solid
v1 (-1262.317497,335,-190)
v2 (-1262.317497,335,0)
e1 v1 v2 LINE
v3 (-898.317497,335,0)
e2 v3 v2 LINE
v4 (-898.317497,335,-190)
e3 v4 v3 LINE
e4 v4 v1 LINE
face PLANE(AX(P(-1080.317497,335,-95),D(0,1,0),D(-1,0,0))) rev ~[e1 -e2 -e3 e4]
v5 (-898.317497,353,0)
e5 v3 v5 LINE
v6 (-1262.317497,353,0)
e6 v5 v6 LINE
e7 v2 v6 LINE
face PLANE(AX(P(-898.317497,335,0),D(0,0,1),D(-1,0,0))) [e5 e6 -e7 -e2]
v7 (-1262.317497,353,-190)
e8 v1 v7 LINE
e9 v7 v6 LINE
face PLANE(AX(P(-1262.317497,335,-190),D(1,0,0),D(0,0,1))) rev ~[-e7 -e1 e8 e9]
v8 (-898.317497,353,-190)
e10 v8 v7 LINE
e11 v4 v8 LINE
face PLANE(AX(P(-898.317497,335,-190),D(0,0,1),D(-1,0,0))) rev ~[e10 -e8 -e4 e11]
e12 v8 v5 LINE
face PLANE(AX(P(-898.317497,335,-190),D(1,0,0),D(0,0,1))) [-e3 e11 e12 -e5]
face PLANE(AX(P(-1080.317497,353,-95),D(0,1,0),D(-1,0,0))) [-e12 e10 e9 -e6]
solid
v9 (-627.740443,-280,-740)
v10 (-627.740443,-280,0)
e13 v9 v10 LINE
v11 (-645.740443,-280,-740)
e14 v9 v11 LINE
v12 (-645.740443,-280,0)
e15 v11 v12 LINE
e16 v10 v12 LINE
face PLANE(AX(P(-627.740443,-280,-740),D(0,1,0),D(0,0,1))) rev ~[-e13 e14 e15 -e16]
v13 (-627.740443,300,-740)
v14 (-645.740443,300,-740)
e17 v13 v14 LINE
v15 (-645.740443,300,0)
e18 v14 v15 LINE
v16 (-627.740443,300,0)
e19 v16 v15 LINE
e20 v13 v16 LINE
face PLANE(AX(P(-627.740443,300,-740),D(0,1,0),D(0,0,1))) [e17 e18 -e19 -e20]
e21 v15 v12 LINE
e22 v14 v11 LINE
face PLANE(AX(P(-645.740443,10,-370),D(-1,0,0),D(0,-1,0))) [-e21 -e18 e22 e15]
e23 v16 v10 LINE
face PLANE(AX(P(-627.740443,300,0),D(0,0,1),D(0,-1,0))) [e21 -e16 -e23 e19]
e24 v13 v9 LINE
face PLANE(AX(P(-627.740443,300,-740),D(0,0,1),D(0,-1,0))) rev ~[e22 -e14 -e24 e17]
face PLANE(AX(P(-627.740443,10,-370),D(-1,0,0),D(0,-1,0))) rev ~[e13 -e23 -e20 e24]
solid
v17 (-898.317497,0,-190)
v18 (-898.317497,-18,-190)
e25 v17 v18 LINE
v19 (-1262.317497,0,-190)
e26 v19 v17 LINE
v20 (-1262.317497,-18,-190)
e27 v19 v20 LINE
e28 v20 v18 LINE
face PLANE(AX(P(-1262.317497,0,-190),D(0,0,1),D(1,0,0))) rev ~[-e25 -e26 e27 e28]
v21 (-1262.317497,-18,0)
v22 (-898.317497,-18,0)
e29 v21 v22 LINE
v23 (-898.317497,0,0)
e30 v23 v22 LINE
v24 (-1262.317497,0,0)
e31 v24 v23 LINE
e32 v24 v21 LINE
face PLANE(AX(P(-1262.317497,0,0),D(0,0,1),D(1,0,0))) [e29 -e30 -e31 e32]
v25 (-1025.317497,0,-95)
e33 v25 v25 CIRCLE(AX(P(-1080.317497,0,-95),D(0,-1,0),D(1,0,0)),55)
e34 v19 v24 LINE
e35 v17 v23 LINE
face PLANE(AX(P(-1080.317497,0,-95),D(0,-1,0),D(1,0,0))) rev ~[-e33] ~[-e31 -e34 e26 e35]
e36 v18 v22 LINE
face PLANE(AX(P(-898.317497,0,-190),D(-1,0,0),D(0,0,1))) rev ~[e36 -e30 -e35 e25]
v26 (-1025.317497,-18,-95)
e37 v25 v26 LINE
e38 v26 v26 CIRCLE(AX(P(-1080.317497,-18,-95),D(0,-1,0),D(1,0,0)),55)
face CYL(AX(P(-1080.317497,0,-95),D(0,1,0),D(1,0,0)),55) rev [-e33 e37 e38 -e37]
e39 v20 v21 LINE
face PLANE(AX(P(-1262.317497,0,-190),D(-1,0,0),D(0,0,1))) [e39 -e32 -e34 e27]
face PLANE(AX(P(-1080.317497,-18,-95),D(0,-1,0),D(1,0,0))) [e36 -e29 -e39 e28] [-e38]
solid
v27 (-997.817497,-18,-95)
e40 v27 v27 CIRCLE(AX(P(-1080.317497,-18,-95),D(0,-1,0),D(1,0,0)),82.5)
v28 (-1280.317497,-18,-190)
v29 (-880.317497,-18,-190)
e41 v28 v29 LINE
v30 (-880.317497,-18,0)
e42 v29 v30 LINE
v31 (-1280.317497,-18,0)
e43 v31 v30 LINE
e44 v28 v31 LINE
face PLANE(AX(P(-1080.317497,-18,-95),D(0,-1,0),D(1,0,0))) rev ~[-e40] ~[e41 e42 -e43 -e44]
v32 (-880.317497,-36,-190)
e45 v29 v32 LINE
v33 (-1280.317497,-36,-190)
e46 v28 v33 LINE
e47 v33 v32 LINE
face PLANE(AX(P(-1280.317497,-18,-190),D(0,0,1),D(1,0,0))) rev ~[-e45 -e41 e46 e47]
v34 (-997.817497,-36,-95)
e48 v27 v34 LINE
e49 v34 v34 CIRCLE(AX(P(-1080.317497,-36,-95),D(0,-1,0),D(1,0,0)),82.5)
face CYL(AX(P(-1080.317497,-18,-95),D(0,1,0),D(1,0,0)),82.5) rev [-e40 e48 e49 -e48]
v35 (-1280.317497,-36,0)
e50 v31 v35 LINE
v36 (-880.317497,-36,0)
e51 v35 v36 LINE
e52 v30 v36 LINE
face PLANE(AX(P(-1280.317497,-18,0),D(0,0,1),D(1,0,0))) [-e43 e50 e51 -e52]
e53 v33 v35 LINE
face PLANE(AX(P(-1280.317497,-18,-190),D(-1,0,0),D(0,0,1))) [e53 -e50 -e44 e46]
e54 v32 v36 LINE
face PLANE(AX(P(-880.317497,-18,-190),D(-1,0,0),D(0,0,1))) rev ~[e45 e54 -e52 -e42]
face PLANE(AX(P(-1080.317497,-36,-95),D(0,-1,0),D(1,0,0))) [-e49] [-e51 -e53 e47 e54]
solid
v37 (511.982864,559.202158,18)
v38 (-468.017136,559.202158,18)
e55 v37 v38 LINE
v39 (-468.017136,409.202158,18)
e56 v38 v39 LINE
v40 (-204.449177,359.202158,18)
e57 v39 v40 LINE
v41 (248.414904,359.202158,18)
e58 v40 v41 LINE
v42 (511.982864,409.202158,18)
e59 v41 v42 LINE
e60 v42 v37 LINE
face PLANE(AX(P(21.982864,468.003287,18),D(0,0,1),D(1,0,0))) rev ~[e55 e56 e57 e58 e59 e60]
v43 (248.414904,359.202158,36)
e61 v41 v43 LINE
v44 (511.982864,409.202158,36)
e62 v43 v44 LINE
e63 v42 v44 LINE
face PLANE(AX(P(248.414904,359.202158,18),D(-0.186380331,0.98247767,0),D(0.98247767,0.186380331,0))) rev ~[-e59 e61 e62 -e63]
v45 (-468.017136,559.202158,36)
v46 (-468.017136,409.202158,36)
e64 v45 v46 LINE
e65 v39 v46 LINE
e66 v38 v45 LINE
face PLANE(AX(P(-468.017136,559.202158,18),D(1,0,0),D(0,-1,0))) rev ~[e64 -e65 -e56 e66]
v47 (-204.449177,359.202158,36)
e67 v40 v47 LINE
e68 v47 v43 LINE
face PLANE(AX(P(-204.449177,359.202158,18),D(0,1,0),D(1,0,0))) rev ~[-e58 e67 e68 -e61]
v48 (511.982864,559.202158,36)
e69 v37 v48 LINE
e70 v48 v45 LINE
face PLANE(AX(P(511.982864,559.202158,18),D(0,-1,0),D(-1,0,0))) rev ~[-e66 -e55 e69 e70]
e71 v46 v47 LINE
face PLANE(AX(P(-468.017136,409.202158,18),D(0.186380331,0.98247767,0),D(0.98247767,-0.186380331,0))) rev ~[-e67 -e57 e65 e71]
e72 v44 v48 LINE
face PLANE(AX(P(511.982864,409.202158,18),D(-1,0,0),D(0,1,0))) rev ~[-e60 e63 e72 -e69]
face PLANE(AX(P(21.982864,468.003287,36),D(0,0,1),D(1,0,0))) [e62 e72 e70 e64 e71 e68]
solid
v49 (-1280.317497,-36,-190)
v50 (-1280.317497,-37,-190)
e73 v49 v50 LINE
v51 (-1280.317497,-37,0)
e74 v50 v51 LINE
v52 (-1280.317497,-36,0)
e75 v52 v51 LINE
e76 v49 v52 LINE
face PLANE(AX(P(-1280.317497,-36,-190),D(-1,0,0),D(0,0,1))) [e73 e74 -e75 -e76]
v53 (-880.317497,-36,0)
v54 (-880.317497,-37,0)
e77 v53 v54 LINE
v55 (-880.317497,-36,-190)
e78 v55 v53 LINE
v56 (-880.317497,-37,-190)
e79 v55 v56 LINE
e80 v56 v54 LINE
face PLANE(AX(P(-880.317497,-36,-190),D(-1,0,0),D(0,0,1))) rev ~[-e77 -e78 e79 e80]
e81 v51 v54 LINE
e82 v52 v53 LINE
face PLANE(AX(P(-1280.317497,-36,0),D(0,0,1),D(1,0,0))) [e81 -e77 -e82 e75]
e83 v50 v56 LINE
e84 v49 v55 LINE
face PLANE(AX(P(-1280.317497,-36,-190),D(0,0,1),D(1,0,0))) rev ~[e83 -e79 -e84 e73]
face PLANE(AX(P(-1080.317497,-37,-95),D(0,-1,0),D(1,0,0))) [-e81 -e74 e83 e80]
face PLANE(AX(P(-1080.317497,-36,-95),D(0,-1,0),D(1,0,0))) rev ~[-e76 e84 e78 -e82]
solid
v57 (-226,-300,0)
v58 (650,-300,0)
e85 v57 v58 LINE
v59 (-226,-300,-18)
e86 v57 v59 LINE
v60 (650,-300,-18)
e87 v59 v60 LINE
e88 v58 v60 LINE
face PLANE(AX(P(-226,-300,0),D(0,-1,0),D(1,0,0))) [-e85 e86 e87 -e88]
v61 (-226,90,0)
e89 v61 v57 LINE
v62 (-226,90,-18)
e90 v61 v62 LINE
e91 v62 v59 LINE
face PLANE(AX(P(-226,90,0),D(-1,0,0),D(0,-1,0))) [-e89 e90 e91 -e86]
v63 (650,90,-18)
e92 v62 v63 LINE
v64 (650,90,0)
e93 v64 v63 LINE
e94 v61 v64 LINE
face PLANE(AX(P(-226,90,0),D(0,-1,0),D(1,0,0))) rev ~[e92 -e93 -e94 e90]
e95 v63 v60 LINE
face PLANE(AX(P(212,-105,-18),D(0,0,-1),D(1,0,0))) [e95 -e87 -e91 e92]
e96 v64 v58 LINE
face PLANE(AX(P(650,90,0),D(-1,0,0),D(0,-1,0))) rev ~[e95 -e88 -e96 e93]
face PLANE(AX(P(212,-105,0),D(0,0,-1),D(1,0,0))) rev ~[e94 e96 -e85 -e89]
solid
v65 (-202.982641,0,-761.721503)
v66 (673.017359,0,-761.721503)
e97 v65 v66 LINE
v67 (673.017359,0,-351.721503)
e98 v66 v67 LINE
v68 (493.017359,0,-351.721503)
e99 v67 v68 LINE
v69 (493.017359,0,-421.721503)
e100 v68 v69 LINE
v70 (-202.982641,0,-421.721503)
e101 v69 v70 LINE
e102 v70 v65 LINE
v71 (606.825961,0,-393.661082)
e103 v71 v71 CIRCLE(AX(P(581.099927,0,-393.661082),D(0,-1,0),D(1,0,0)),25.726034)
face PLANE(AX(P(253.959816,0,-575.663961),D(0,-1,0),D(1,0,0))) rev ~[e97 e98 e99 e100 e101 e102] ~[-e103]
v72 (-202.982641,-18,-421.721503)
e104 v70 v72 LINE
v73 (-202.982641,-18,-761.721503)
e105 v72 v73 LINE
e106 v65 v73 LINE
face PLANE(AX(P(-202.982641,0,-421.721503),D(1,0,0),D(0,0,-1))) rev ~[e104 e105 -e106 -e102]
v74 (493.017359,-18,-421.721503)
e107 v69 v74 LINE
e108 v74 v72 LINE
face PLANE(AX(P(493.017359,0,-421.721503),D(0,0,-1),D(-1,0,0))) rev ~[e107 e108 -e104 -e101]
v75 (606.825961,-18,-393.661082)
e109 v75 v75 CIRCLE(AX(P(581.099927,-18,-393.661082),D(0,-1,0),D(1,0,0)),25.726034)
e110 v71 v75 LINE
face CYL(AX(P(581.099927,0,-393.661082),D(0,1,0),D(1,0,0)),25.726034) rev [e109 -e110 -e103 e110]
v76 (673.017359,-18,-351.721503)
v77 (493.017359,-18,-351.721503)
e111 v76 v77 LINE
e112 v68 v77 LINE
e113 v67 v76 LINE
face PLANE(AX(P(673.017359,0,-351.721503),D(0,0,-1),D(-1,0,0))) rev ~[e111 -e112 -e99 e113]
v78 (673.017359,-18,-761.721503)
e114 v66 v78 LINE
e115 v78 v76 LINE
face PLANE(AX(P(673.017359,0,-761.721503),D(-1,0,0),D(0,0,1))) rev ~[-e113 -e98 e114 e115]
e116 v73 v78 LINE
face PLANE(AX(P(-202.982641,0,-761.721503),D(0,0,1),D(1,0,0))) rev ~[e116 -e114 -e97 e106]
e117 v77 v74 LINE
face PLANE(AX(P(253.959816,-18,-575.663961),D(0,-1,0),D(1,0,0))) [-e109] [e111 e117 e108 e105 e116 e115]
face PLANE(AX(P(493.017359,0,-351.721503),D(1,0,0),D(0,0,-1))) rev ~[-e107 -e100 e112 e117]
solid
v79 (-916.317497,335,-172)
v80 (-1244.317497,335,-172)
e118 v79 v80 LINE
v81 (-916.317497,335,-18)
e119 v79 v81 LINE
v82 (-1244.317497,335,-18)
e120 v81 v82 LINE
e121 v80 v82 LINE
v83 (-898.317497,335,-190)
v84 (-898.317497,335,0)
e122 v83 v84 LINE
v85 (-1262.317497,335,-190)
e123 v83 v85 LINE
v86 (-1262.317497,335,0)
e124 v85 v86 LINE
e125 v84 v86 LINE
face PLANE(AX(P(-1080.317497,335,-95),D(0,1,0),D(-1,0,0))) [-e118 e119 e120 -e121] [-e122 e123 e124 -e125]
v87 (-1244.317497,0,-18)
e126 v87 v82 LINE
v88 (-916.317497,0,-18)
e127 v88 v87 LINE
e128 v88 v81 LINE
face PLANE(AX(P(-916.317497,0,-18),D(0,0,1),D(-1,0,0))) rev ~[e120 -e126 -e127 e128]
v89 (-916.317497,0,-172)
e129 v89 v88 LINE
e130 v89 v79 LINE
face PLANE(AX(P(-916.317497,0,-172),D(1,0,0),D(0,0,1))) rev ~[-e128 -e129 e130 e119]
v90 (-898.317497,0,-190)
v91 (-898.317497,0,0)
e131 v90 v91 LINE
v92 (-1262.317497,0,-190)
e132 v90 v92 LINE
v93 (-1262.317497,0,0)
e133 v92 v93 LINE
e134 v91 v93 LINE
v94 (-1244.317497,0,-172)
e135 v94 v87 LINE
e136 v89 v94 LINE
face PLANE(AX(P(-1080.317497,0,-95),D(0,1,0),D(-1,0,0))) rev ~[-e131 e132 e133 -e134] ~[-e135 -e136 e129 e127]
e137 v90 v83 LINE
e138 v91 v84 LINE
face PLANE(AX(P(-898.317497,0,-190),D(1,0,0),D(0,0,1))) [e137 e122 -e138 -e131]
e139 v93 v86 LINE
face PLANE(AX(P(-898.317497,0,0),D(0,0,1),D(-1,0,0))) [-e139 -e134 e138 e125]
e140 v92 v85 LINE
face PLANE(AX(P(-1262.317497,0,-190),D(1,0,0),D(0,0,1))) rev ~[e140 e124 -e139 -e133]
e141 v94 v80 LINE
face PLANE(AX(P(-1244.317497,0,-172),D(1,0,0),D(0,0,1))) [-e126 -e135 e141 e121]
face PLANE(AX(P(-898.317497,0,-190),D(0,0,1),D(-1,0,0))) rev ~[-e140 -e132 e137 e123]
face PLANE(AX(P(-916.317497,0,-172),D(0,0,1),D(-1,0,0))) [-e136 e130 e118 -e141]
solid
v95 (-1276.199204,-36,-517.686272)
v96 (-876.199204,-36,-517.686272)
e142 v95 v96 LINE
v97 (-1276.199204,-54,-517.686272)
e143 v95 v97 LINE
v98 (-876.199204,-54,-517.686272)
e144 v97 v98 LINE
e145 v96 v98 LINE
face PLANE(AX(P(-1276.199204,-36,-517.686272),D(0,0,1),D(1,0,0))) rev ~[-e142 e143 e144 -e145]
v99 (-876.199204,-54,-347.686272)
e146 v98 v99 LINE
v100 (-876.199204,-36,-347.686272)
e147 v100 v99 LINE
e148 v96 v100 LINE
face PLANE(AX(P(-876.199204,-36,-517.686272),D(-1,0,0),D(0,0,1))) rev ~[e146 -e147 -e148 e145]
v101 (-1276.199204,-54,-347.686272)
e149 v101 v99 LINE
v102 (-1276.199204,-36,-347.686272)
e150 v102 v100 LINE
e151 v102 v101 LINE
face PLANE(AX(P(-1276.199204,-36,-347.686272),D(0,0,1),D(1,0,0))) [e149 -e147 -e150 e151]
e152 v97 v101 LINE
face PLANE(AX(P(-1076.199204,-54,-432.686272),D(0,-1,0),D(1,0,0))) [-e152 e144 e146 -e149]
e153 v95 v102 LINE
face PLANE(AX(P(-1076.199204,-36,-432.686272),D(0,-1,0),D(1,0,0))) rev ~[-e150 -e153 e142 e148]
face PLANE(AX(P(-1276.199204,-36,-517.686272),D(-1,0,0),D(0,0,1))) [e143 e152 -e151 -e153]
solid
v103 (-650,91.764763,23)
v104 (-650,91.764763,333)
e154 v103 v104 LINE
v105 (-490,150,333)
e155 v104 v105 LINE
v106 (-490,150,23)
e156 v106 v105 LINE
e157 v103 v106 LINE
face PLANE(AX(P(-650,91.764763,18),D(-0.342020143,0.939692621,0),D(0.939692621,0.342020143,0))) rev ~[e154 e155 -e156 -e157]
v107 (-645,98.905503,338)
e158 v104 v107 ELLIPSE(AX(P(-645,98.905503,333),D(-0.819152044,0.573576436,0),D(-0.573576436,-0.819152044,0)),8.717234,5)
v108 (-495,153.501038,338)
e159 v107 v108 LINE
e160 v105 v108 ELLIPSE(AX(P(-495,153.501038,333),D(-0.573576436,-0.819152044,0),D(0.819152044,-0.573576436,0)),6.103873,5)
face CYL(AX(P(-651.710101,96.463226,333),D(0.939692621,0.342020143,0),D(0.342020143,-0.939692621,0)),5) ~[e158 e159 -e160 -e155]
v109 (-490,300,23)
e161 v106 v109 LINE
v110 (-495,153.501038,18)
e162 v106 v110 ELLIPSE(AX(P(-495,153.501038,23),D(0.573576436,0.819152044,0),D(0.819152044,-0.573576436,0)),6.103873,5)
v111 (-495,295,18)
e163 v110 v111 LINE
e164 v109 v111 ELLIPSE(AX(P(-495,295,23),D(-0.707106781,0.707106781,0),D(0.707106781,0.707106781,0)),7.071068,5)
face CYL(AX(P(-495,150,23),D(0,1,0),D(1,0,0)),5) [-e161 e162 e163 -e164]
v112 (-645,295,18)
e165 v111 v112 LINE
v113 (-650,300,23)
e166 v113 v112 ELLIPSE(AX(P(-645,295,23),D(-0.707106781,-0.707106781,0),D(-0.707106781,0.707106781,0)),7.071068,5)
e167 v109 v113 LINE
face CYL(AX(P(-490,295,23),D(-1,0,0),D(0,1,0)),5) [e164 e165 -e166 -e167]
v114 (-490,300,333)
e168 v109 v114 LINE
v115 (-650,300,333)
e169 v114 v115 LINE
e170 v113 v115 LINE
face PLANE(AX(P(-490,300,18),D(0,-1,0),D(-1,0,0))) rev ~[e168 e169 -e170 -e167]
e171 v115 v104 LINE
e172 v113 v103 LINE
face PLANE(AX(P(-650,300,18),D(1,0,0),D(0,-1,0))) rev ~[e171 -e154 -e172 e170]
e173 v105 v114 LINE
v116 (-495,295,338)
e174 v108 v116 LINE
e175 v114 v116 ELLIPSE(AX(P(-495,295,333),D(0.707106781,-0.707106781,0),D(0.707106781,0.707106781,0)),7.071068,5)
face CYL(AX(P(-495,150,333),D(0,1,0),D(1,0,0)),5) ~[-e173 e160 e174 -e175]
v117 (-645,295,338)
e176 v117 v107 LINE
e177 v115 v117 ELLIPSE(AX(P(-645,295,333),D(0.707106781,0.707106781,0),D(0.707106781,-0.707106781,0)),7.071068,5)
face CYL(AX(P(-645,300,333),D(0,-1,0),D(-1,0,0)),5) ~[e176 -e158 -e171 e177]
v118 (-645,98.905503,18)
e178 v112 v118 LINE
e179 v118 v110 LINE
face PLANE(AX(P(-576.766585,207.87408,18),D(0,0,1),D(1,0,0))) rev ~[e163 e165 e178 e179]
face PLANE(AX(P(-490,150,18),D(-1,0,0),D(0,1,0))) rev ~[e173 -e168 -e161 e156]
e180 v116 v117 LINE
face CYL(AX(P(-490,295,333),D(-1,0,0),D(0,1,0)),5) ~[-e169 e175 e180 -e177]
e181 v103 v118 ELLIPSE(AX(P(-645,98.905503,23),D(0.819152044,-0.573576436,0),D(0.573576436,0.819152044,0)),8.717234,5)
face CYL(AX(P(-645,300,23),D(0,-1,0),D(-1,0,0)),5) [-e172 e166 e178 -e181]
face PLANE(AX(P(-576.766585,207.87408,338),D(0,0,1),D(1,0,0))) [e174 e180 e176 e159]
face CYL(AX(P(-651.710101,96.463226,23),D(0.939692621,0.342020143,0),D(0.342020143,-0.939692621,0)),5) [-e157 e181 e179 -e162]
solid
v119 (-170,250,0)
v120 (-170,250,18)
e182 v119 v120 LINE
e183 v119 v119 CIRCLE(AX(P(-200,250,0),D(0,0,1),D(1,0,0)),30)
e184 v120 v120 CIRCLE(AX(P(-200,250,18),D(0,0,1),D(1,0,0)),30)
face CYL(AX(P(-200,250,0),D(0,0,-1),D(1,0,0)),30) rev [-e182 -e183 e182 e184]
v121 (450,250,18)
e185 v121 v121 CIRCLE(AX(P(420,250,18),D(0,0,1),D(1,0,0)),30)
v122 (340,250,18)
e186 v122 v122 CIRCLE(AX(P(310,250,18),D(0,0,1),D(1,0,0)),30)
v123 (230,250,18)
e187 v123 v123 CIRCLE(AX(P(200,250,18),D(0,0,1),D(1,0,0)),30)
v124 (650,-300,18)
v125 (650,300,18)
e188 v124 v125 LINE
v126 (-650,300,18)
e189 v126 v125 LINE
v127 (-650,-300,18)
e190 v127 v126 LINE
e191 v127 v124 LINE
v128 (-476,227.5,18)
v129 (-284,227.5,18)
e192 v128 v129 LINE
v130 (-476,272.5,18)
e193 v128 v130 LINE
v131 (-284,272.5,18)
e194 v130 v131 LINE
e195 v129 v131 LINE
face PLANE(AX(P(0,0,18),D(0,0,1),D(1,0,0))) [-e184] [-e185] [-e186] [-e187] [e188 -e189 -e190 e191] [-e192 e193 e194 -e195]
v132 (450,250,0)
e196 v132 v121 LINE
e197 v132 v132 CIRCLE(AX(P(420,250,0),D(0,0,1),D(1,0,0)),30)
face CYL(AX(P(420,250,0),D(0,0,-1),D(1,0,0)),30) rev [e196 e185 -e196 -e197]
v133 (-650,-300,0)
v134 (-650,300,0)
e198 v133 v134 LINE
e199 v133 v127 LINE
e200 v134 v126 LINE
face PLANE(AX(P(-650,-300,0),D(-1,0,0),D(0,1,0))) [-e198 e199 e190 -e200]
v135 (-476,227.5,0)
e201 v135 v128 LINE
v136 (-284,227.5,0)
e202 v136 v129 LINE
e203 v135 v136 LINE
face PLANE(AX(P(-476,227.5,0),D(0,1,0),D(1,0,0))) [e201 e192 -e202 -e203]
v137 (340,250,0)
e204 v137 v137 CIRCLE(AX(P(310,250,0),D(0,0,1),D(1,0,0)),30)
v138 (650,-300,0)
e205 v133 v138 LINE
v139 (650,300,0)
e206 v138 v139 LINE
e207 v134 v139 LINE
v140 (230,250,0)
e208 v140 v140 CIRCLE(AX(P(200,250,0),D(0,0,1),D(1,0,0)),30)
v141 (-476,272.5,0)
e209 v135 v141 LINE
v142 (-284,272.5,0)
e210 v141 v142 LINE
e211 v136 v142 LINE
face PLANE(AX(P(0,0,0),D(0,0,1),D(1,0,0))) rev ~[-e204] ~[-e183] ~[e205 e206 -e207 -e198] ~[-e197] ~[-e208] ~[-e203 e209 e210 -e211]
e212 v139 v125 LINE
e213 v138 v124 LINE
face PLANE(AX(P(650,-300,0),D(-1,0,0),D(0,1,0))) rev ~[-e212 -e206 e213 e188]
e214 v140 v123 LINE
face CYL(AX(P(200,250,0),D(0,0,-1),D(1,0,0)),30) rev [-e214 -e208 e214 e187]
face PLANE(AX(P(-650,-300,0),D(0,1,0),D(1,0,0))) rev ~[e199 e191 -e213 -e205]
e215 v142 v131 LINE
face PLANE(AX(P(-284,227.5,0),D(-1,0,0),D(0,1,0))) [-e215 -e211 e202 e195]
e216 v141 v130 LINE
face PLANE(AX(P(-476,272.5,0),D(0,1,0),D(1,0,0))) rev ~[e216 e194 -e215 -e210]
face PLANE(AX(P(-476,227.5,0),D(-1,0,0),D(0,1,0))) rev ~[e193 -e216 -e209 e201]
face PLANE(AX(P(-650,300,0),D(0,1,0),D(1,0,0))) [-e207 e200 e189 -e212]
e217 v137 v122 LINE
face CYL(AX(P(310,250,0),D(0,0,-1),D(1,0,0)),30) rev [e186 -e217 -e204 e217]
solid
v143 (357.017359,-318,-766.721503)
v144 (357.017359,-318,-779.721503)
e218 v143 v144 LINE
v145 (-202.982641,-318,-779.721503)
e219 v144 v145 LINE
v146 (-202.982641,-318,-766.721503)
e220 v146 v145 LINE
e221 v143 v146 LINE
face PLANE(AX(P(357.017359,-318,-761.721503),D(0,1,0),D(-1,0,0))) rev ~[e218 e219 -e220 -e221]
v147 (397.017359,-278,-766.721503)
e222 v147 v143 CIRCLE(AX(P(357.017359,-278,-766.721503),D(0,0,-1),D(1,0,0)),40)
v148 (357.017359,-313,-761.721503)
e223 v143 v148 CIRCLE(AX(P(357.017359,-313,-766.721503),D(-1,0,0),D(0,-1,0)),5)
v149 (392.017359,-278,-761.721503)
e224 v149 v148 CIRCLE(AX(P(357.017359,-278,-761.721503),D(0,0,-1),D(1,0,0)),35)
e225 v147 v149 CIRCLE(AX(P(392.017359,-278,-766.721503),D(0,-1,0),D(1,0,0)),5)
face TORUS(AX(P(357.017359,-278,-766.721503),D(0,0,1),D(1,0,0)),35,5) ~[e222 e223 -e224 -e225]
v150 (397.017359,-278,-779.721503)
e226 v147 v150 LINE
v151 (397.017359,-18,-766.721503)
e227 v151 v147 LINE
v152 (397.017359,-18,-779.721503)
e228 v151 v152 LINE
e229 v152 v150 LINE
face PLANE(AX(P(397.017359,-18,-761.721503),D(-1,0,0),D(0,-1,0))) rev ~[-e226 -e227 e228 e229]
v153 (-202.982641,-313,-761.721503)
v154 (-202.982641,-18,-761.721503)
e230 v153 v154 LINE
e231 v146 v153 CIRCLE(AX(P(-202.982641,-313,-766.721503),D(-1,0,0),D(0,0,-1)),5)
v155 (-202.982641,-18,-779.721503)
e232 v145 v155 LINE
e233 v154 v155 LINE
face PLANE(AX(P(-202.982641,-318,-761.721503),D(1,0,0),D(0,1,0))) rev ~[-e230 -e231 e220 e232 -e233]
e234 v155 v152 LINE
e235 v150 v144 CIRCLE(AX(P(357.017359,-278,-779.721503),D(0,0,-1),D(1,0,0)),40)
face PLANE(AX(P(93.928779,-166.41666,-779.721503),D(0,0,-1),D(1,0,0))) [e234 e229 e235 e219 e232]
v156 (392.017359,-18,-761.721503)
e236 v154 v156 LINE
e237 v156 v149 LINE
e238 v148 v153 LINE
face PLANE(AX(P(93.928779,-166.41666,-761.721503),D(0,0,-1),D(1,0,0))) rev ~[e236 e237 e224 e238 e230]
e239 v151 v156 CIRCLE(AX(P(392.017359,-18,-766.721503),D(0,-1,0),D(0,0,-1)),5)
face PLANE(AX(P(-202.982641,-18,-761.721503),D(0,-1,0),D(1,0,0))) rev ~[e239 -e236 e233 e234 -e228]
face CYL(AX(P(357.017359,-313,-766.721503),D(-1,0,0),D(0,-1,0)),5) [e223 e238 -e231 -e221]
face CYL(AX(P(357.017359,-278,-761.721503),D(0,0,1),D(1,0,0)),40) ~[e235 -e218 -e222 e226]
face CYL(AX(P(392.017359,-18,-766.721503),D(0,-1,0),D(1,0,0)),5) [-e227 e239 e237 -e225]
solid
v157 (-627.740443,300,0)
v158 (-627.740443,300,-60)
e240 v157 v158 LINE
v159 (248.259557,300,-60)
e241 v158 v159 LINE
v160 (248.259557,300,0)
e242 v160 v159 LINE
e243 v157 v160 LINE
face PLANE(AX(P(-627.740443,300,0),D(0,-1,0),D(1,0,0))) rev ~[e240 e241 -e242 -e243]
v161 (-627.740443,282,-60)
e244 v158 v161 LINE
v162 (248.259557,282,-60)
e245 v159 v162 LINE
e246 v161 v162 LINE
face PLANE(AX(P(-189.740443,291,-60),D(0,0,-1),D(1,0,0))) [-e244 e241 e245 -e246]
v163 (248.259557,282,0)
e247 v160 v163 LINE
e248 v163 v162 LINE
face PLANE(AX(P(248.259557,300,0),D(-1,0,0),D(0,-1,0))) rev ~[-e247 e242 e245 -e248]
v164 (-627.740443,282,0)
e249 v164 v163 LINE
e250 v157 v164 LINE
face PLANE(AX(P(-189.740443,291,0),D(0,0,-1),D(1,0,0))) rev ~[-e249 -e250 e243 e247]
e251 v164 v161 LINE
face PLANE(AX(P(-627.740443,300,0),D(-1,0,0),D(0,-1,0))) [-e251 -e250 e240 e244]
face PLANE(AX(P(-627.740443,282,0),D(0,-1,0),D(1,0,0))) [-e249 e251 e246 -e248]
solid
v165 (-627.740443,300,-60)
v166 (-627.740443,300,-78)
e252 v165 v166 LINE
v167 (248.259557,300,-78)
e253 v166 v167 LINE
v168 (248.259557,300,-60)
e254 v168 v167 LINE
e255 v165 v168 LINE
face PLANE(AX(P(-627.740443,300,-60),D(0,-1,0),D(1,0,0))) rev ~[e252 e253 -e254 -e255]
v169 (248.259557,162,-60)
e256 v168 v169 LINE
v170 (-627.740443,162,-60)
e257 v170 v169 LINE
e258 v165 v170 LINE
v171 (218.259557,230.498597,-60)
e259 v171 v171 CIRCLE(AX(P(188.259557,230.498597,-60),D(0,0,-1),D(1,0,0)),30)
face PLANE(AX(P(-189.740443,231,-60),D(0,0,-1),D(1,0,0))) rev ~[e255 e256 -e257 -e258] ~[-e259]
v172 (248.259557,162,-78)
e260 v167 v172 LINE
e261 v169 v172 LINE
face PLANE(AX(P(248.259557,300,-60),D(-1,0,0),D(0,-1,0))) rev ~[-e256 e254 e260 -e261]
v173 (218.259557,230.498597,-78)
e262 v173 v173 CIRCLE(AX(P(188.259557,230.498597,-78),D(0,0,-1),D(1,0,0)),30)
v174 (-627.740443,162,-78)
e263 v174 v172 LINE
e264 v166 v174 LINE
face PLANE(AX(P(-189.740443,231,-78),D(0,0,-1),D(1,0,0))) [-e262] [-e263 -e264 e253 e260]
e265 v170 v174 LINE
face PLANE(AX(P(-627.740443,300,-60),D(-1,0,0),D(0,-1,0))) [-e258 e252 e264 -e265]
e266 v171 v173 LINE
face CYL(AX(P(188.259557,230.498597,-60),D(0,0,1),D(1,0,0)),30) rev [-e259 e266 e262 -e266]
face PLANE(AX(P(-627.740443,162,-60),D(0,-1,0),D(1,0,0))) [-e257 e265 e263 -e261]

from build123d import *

# Parameters (mm, degrees)
F0_W      = 1300
F0_H      = 600
F0_W_2    = 192
F0_H_2    = 45
F0_R      = 30
F1_DEPTH  = 18
F2_W      = 876
F2_H      = 18
F3_DEPTH  = 60
F4_W      = 876
F4_H      = 138
F4_R      = 30
F5_DEPTH  = 18
F6_W      = 580
F6_H      = 740
F7_DEPTH  = 18
F9_DEPTH  = 320
F10_W     = 364
F10_H     = 190
F10_R     = 55
F11_DEPTH = 18
F12_W     = 364
F12_H     = 190
F12_W_2   = 328
F12_H_2   = 154
F13_DEPTH = 335
F14_W     = 400
F14_H     = 190
F14_R     = 82.5
F15_DEPTH = 18
F16_W     = 364
F16_H     = 190
F17_DEPTH = 18
F18_W     = 876
F18_H     = 390
F19_DEPTH = 18
F20_R     = 25.7260339454
F21_DEPTH = 18
F23_DEPTH = 18
F24_R     = 5
F25_W     = 400
F25_H     = 170
F26_DEPTH = 18
F27_W     = 400
F27_H     = 190
F28_DEPTH = 1
F30_DEPTH = 18
F31_R     = 5


with BuildPart() as f1:
    # F0 (on Top) → F1 (new body)
    with BuildSketch(Plane.XY):
        Rectangle(F0_W, F0_H)
        with Locations((-380, 250)):
            Rectangle(F0_W_2, F0_H_2, mode=Mode.SUBTRACT)
        with Locations((-200, 250)):
            Circle(F0_R, mode=Mode.SUBTRACT)
        with Locations((200, 250)):
            Circle(F0_R, mode=Mode.SUBTRACT)
        with Locations((310, 250)):
            Circle(F0_R, mode=Mode.SUBTRACT)
        with Locations((420, 250)):
            Circle(F0_R, mode=Mode.SUBTRACT)
    extrude(amount=F1_DEPTH)


with BuildPart() as f3:
    # F2 (on face) → F3 (new body)
    with BuildSketch(Plane(origin=(0, 0, 0), x_dir=(1, 0, 0), z_dir=(0, 0, -1))):
        with Locations((-189.7404427528, -291)):
            Rectangle(F2_W, F2_H)
    extrude(amount=F3_DEPTH)


with BuildPart() as f5:
    # F4 (on face) → F5 (new body)
    with BuildSketch(Plane(origin=(0, 0, -60), x_dir=(1, 0, 0), z_dir=(0, 0, -1))):
        with Locations((-189.7404427528, -231)):
            Rectangle(F4_W, F4_H)
        with Locations((188.2595572472, -230.4985970259)):
            Circle(F4_R, mode=Mode.SUBTRACT)
    extrude(amount=F5_DEPTH)


with BuildPart() as f7:
    # F6 (on face) → F7 (new body)
    with BuildSketch(Plane(origin=(-627.7404427528, 0, 0), x_dir=(0, -1, 0), z_dir=(-1, 0, 0))):
        with Locations((-10, -370)):
            Rectangle(F6_W, F6_H)
    extrude(amount=F7_DEPTH)


with BuildPart() as f9:
    # F8 (on face) → F9 (new body)
    with BuildSketch(Plane.XY.offset(18)):
        Polygon((-490, 300), (-650, 300), (-650, 91.7647625174), (-490, 150), align=None)
    extrude(amount=F9_DEPTH)

    # F31
    f31_edges = [f9.edges().sort_by_distance(p)[0] for p in [
        (-650, 195.882381, 338),
        (-570, 120.882381, 338),
        (-490, 225, 338),
        (-570, 300, 338),
        (-570, 120.882381, 18),
        (-490, 225, 18),
        (-570, 300, 18),
        (-650, 195.882381, 18),
    ]]
    fillet(f31_edges, radius=F31_R)


with BuildPart() as f11:
    # F10 (on Front) → F11 (new body)
    with BuildSketch(Plane.XZ):
        with Locations((-1080.3174972534, -95)):
            Rectangle(F10_W, F10_H)
        with Locations((-1080.3174972534, -95)):
            Circle(F10_R, mode=Mode.SUBTRACT)
    extrude(amount=F11_DEPTH)


with BuildPart() as f13:
    # F12 (on face) → F13 (new body)
    with BuildSketch(Plane(origin=(0, 0, 0), x_dir=(-1, 0, 0), z_dir=(0, 1, 0))):
        with Locations((1080.3174972534, -95)):
            Rectangle(F12_W, F12_H)
        with Locations((1080.3174972534, -95)):
            Rectangle(F12_W_2, F12_H_2, mode=Mode.SUBTRACT)
    extrude(amount=F13_DEPTH)


with BuildPart() as f15:
    # F14 (on face) → F15 (new body)
    with BuildSketch(Plane.XZ.offset(18)):
        with Locations((-1080.3174972534, -95)):
            Rectangle(F14_W, F14_H)
        with Locations((-1080.3174972534, -95)):
            Circle(F14_R, mode=Mode.SUBTRACT)
    extrude(amount=F15_DEPTH)


with BuildPart() as f17:
    # F16 (on face) → F17 (new body)
    with BuildSketch(Plane(origin=(0, 335, 0), x_dir=(-1, 0, 0), z_dir=(0, 1, 0))):
        with Locations((1080.3174972534, -95)):
            Rectangle(F16_W, F16_H)
    extrude(amount=F17_DEPTH)


with BuildPart() as f19:
    # F18 (on face) → F19 (new body)
    with BuildSketch(Plane(origin=(0, 0, 0), x_dir=(1, 0, 0), z_dir=(0, 0, -1))):
        with Locations((212, 105)):
            Rectangle(F18_W, F18_H)
    extrude(amount=F19_DEPTH)


with BuildPart() as f21:
    # F20 (on Front) → F21 (new body)
    with BuildSketch(Plane.XZ):
        Polygon((-202.9826407433, -761.7215034605), (673.0173592567, -761.7215034605), (673.0173592567, -351.7215034605), (493.0173592567, -351.7215034605), (493.0173592567, -421.7215034605), (-202.9826407433, -421.7215034605), align=None)
        with Locations((581.0999274254, -393.6610817909)):
            Circle(F20_R, mode=Mode.SUBTRACT)
    extrude(amount=F21_DEPTH)


with BuildPart() as f23:
    # F22 (on face) → F23 (new body)
    with BuildSketch(Plane(origin=(0, 0, -761.7215034605), x_dir=(1, 0, 0), z_dir=(0, 0, -1))):
        with BuildLine():
            Line((-202.9826407433, 318), (-202.9826407433, 18))
            Line((-202.9826407433, 18), (397.0173592567, 18))
            Line((397.0173592567, 18), (397.0173592567, 278))
            ThreePointArc((397.0173592567, 278), (385.3016305042, 306.2842712475), (357.0173592567, 318))
            Line((357.0173592567, 318), (-202.9826407433, 318))
        make_face()
    extrude(amount=F23_DEPTH)

    # F24
    f24_edges = [f23.edges().sort_by_distance(p)[0] for p in [
        (77.017359, -318, -761.721503),
        (385.301631, -306.284271, -761.721503),
        (397.017359, -148, -761.721503),
    ]]
    fillet(f24_edges, radius=F24_R)


with BuildPart() as f26:
    # F25 (on face) → F26 (new body)
    with BuildSketch(Plane.XZ.offset(36)):
        with Locations((-1076.1992037296, -432.6862716079)):
            Rectangle(F25_W, F25_H)
    extrude(amount=F26_DEPTH)


with BuildPart() as f28:
    # F27 (on face) → F28 (new body)
    with BuildSketch(Plane.XZ.offset(36)):
        with Locations((-1080.3174972534, -95)):
            Rectangle(F27_W, F27_H)
    extrude(amount=F28_DEPTH)


with BuildPart() as f30:
    # F29 (on face) → F30 (new body)
    with BuildSketch(Plane.XY.offset(18)):
        Polygon((511.9828635454, 559.2021584511), (-468.0171364546, 559.2021584511), (-468.0171364546, 409.2021584511), (-204.4491767883, 359.2021584511), (248.4149038792, 359.2021584511), (511.9828635454, 409.2021584511), align=None)
    extrude(amount=F30_DEPTH)


solid = Compound([f1.part, f3.part, f5.part, f7.part, f9.part, f11.part, f13.part, f15.part, f17.part, f19.part, f21.part, f23.part, f26.part, f28.part, f30.part])
